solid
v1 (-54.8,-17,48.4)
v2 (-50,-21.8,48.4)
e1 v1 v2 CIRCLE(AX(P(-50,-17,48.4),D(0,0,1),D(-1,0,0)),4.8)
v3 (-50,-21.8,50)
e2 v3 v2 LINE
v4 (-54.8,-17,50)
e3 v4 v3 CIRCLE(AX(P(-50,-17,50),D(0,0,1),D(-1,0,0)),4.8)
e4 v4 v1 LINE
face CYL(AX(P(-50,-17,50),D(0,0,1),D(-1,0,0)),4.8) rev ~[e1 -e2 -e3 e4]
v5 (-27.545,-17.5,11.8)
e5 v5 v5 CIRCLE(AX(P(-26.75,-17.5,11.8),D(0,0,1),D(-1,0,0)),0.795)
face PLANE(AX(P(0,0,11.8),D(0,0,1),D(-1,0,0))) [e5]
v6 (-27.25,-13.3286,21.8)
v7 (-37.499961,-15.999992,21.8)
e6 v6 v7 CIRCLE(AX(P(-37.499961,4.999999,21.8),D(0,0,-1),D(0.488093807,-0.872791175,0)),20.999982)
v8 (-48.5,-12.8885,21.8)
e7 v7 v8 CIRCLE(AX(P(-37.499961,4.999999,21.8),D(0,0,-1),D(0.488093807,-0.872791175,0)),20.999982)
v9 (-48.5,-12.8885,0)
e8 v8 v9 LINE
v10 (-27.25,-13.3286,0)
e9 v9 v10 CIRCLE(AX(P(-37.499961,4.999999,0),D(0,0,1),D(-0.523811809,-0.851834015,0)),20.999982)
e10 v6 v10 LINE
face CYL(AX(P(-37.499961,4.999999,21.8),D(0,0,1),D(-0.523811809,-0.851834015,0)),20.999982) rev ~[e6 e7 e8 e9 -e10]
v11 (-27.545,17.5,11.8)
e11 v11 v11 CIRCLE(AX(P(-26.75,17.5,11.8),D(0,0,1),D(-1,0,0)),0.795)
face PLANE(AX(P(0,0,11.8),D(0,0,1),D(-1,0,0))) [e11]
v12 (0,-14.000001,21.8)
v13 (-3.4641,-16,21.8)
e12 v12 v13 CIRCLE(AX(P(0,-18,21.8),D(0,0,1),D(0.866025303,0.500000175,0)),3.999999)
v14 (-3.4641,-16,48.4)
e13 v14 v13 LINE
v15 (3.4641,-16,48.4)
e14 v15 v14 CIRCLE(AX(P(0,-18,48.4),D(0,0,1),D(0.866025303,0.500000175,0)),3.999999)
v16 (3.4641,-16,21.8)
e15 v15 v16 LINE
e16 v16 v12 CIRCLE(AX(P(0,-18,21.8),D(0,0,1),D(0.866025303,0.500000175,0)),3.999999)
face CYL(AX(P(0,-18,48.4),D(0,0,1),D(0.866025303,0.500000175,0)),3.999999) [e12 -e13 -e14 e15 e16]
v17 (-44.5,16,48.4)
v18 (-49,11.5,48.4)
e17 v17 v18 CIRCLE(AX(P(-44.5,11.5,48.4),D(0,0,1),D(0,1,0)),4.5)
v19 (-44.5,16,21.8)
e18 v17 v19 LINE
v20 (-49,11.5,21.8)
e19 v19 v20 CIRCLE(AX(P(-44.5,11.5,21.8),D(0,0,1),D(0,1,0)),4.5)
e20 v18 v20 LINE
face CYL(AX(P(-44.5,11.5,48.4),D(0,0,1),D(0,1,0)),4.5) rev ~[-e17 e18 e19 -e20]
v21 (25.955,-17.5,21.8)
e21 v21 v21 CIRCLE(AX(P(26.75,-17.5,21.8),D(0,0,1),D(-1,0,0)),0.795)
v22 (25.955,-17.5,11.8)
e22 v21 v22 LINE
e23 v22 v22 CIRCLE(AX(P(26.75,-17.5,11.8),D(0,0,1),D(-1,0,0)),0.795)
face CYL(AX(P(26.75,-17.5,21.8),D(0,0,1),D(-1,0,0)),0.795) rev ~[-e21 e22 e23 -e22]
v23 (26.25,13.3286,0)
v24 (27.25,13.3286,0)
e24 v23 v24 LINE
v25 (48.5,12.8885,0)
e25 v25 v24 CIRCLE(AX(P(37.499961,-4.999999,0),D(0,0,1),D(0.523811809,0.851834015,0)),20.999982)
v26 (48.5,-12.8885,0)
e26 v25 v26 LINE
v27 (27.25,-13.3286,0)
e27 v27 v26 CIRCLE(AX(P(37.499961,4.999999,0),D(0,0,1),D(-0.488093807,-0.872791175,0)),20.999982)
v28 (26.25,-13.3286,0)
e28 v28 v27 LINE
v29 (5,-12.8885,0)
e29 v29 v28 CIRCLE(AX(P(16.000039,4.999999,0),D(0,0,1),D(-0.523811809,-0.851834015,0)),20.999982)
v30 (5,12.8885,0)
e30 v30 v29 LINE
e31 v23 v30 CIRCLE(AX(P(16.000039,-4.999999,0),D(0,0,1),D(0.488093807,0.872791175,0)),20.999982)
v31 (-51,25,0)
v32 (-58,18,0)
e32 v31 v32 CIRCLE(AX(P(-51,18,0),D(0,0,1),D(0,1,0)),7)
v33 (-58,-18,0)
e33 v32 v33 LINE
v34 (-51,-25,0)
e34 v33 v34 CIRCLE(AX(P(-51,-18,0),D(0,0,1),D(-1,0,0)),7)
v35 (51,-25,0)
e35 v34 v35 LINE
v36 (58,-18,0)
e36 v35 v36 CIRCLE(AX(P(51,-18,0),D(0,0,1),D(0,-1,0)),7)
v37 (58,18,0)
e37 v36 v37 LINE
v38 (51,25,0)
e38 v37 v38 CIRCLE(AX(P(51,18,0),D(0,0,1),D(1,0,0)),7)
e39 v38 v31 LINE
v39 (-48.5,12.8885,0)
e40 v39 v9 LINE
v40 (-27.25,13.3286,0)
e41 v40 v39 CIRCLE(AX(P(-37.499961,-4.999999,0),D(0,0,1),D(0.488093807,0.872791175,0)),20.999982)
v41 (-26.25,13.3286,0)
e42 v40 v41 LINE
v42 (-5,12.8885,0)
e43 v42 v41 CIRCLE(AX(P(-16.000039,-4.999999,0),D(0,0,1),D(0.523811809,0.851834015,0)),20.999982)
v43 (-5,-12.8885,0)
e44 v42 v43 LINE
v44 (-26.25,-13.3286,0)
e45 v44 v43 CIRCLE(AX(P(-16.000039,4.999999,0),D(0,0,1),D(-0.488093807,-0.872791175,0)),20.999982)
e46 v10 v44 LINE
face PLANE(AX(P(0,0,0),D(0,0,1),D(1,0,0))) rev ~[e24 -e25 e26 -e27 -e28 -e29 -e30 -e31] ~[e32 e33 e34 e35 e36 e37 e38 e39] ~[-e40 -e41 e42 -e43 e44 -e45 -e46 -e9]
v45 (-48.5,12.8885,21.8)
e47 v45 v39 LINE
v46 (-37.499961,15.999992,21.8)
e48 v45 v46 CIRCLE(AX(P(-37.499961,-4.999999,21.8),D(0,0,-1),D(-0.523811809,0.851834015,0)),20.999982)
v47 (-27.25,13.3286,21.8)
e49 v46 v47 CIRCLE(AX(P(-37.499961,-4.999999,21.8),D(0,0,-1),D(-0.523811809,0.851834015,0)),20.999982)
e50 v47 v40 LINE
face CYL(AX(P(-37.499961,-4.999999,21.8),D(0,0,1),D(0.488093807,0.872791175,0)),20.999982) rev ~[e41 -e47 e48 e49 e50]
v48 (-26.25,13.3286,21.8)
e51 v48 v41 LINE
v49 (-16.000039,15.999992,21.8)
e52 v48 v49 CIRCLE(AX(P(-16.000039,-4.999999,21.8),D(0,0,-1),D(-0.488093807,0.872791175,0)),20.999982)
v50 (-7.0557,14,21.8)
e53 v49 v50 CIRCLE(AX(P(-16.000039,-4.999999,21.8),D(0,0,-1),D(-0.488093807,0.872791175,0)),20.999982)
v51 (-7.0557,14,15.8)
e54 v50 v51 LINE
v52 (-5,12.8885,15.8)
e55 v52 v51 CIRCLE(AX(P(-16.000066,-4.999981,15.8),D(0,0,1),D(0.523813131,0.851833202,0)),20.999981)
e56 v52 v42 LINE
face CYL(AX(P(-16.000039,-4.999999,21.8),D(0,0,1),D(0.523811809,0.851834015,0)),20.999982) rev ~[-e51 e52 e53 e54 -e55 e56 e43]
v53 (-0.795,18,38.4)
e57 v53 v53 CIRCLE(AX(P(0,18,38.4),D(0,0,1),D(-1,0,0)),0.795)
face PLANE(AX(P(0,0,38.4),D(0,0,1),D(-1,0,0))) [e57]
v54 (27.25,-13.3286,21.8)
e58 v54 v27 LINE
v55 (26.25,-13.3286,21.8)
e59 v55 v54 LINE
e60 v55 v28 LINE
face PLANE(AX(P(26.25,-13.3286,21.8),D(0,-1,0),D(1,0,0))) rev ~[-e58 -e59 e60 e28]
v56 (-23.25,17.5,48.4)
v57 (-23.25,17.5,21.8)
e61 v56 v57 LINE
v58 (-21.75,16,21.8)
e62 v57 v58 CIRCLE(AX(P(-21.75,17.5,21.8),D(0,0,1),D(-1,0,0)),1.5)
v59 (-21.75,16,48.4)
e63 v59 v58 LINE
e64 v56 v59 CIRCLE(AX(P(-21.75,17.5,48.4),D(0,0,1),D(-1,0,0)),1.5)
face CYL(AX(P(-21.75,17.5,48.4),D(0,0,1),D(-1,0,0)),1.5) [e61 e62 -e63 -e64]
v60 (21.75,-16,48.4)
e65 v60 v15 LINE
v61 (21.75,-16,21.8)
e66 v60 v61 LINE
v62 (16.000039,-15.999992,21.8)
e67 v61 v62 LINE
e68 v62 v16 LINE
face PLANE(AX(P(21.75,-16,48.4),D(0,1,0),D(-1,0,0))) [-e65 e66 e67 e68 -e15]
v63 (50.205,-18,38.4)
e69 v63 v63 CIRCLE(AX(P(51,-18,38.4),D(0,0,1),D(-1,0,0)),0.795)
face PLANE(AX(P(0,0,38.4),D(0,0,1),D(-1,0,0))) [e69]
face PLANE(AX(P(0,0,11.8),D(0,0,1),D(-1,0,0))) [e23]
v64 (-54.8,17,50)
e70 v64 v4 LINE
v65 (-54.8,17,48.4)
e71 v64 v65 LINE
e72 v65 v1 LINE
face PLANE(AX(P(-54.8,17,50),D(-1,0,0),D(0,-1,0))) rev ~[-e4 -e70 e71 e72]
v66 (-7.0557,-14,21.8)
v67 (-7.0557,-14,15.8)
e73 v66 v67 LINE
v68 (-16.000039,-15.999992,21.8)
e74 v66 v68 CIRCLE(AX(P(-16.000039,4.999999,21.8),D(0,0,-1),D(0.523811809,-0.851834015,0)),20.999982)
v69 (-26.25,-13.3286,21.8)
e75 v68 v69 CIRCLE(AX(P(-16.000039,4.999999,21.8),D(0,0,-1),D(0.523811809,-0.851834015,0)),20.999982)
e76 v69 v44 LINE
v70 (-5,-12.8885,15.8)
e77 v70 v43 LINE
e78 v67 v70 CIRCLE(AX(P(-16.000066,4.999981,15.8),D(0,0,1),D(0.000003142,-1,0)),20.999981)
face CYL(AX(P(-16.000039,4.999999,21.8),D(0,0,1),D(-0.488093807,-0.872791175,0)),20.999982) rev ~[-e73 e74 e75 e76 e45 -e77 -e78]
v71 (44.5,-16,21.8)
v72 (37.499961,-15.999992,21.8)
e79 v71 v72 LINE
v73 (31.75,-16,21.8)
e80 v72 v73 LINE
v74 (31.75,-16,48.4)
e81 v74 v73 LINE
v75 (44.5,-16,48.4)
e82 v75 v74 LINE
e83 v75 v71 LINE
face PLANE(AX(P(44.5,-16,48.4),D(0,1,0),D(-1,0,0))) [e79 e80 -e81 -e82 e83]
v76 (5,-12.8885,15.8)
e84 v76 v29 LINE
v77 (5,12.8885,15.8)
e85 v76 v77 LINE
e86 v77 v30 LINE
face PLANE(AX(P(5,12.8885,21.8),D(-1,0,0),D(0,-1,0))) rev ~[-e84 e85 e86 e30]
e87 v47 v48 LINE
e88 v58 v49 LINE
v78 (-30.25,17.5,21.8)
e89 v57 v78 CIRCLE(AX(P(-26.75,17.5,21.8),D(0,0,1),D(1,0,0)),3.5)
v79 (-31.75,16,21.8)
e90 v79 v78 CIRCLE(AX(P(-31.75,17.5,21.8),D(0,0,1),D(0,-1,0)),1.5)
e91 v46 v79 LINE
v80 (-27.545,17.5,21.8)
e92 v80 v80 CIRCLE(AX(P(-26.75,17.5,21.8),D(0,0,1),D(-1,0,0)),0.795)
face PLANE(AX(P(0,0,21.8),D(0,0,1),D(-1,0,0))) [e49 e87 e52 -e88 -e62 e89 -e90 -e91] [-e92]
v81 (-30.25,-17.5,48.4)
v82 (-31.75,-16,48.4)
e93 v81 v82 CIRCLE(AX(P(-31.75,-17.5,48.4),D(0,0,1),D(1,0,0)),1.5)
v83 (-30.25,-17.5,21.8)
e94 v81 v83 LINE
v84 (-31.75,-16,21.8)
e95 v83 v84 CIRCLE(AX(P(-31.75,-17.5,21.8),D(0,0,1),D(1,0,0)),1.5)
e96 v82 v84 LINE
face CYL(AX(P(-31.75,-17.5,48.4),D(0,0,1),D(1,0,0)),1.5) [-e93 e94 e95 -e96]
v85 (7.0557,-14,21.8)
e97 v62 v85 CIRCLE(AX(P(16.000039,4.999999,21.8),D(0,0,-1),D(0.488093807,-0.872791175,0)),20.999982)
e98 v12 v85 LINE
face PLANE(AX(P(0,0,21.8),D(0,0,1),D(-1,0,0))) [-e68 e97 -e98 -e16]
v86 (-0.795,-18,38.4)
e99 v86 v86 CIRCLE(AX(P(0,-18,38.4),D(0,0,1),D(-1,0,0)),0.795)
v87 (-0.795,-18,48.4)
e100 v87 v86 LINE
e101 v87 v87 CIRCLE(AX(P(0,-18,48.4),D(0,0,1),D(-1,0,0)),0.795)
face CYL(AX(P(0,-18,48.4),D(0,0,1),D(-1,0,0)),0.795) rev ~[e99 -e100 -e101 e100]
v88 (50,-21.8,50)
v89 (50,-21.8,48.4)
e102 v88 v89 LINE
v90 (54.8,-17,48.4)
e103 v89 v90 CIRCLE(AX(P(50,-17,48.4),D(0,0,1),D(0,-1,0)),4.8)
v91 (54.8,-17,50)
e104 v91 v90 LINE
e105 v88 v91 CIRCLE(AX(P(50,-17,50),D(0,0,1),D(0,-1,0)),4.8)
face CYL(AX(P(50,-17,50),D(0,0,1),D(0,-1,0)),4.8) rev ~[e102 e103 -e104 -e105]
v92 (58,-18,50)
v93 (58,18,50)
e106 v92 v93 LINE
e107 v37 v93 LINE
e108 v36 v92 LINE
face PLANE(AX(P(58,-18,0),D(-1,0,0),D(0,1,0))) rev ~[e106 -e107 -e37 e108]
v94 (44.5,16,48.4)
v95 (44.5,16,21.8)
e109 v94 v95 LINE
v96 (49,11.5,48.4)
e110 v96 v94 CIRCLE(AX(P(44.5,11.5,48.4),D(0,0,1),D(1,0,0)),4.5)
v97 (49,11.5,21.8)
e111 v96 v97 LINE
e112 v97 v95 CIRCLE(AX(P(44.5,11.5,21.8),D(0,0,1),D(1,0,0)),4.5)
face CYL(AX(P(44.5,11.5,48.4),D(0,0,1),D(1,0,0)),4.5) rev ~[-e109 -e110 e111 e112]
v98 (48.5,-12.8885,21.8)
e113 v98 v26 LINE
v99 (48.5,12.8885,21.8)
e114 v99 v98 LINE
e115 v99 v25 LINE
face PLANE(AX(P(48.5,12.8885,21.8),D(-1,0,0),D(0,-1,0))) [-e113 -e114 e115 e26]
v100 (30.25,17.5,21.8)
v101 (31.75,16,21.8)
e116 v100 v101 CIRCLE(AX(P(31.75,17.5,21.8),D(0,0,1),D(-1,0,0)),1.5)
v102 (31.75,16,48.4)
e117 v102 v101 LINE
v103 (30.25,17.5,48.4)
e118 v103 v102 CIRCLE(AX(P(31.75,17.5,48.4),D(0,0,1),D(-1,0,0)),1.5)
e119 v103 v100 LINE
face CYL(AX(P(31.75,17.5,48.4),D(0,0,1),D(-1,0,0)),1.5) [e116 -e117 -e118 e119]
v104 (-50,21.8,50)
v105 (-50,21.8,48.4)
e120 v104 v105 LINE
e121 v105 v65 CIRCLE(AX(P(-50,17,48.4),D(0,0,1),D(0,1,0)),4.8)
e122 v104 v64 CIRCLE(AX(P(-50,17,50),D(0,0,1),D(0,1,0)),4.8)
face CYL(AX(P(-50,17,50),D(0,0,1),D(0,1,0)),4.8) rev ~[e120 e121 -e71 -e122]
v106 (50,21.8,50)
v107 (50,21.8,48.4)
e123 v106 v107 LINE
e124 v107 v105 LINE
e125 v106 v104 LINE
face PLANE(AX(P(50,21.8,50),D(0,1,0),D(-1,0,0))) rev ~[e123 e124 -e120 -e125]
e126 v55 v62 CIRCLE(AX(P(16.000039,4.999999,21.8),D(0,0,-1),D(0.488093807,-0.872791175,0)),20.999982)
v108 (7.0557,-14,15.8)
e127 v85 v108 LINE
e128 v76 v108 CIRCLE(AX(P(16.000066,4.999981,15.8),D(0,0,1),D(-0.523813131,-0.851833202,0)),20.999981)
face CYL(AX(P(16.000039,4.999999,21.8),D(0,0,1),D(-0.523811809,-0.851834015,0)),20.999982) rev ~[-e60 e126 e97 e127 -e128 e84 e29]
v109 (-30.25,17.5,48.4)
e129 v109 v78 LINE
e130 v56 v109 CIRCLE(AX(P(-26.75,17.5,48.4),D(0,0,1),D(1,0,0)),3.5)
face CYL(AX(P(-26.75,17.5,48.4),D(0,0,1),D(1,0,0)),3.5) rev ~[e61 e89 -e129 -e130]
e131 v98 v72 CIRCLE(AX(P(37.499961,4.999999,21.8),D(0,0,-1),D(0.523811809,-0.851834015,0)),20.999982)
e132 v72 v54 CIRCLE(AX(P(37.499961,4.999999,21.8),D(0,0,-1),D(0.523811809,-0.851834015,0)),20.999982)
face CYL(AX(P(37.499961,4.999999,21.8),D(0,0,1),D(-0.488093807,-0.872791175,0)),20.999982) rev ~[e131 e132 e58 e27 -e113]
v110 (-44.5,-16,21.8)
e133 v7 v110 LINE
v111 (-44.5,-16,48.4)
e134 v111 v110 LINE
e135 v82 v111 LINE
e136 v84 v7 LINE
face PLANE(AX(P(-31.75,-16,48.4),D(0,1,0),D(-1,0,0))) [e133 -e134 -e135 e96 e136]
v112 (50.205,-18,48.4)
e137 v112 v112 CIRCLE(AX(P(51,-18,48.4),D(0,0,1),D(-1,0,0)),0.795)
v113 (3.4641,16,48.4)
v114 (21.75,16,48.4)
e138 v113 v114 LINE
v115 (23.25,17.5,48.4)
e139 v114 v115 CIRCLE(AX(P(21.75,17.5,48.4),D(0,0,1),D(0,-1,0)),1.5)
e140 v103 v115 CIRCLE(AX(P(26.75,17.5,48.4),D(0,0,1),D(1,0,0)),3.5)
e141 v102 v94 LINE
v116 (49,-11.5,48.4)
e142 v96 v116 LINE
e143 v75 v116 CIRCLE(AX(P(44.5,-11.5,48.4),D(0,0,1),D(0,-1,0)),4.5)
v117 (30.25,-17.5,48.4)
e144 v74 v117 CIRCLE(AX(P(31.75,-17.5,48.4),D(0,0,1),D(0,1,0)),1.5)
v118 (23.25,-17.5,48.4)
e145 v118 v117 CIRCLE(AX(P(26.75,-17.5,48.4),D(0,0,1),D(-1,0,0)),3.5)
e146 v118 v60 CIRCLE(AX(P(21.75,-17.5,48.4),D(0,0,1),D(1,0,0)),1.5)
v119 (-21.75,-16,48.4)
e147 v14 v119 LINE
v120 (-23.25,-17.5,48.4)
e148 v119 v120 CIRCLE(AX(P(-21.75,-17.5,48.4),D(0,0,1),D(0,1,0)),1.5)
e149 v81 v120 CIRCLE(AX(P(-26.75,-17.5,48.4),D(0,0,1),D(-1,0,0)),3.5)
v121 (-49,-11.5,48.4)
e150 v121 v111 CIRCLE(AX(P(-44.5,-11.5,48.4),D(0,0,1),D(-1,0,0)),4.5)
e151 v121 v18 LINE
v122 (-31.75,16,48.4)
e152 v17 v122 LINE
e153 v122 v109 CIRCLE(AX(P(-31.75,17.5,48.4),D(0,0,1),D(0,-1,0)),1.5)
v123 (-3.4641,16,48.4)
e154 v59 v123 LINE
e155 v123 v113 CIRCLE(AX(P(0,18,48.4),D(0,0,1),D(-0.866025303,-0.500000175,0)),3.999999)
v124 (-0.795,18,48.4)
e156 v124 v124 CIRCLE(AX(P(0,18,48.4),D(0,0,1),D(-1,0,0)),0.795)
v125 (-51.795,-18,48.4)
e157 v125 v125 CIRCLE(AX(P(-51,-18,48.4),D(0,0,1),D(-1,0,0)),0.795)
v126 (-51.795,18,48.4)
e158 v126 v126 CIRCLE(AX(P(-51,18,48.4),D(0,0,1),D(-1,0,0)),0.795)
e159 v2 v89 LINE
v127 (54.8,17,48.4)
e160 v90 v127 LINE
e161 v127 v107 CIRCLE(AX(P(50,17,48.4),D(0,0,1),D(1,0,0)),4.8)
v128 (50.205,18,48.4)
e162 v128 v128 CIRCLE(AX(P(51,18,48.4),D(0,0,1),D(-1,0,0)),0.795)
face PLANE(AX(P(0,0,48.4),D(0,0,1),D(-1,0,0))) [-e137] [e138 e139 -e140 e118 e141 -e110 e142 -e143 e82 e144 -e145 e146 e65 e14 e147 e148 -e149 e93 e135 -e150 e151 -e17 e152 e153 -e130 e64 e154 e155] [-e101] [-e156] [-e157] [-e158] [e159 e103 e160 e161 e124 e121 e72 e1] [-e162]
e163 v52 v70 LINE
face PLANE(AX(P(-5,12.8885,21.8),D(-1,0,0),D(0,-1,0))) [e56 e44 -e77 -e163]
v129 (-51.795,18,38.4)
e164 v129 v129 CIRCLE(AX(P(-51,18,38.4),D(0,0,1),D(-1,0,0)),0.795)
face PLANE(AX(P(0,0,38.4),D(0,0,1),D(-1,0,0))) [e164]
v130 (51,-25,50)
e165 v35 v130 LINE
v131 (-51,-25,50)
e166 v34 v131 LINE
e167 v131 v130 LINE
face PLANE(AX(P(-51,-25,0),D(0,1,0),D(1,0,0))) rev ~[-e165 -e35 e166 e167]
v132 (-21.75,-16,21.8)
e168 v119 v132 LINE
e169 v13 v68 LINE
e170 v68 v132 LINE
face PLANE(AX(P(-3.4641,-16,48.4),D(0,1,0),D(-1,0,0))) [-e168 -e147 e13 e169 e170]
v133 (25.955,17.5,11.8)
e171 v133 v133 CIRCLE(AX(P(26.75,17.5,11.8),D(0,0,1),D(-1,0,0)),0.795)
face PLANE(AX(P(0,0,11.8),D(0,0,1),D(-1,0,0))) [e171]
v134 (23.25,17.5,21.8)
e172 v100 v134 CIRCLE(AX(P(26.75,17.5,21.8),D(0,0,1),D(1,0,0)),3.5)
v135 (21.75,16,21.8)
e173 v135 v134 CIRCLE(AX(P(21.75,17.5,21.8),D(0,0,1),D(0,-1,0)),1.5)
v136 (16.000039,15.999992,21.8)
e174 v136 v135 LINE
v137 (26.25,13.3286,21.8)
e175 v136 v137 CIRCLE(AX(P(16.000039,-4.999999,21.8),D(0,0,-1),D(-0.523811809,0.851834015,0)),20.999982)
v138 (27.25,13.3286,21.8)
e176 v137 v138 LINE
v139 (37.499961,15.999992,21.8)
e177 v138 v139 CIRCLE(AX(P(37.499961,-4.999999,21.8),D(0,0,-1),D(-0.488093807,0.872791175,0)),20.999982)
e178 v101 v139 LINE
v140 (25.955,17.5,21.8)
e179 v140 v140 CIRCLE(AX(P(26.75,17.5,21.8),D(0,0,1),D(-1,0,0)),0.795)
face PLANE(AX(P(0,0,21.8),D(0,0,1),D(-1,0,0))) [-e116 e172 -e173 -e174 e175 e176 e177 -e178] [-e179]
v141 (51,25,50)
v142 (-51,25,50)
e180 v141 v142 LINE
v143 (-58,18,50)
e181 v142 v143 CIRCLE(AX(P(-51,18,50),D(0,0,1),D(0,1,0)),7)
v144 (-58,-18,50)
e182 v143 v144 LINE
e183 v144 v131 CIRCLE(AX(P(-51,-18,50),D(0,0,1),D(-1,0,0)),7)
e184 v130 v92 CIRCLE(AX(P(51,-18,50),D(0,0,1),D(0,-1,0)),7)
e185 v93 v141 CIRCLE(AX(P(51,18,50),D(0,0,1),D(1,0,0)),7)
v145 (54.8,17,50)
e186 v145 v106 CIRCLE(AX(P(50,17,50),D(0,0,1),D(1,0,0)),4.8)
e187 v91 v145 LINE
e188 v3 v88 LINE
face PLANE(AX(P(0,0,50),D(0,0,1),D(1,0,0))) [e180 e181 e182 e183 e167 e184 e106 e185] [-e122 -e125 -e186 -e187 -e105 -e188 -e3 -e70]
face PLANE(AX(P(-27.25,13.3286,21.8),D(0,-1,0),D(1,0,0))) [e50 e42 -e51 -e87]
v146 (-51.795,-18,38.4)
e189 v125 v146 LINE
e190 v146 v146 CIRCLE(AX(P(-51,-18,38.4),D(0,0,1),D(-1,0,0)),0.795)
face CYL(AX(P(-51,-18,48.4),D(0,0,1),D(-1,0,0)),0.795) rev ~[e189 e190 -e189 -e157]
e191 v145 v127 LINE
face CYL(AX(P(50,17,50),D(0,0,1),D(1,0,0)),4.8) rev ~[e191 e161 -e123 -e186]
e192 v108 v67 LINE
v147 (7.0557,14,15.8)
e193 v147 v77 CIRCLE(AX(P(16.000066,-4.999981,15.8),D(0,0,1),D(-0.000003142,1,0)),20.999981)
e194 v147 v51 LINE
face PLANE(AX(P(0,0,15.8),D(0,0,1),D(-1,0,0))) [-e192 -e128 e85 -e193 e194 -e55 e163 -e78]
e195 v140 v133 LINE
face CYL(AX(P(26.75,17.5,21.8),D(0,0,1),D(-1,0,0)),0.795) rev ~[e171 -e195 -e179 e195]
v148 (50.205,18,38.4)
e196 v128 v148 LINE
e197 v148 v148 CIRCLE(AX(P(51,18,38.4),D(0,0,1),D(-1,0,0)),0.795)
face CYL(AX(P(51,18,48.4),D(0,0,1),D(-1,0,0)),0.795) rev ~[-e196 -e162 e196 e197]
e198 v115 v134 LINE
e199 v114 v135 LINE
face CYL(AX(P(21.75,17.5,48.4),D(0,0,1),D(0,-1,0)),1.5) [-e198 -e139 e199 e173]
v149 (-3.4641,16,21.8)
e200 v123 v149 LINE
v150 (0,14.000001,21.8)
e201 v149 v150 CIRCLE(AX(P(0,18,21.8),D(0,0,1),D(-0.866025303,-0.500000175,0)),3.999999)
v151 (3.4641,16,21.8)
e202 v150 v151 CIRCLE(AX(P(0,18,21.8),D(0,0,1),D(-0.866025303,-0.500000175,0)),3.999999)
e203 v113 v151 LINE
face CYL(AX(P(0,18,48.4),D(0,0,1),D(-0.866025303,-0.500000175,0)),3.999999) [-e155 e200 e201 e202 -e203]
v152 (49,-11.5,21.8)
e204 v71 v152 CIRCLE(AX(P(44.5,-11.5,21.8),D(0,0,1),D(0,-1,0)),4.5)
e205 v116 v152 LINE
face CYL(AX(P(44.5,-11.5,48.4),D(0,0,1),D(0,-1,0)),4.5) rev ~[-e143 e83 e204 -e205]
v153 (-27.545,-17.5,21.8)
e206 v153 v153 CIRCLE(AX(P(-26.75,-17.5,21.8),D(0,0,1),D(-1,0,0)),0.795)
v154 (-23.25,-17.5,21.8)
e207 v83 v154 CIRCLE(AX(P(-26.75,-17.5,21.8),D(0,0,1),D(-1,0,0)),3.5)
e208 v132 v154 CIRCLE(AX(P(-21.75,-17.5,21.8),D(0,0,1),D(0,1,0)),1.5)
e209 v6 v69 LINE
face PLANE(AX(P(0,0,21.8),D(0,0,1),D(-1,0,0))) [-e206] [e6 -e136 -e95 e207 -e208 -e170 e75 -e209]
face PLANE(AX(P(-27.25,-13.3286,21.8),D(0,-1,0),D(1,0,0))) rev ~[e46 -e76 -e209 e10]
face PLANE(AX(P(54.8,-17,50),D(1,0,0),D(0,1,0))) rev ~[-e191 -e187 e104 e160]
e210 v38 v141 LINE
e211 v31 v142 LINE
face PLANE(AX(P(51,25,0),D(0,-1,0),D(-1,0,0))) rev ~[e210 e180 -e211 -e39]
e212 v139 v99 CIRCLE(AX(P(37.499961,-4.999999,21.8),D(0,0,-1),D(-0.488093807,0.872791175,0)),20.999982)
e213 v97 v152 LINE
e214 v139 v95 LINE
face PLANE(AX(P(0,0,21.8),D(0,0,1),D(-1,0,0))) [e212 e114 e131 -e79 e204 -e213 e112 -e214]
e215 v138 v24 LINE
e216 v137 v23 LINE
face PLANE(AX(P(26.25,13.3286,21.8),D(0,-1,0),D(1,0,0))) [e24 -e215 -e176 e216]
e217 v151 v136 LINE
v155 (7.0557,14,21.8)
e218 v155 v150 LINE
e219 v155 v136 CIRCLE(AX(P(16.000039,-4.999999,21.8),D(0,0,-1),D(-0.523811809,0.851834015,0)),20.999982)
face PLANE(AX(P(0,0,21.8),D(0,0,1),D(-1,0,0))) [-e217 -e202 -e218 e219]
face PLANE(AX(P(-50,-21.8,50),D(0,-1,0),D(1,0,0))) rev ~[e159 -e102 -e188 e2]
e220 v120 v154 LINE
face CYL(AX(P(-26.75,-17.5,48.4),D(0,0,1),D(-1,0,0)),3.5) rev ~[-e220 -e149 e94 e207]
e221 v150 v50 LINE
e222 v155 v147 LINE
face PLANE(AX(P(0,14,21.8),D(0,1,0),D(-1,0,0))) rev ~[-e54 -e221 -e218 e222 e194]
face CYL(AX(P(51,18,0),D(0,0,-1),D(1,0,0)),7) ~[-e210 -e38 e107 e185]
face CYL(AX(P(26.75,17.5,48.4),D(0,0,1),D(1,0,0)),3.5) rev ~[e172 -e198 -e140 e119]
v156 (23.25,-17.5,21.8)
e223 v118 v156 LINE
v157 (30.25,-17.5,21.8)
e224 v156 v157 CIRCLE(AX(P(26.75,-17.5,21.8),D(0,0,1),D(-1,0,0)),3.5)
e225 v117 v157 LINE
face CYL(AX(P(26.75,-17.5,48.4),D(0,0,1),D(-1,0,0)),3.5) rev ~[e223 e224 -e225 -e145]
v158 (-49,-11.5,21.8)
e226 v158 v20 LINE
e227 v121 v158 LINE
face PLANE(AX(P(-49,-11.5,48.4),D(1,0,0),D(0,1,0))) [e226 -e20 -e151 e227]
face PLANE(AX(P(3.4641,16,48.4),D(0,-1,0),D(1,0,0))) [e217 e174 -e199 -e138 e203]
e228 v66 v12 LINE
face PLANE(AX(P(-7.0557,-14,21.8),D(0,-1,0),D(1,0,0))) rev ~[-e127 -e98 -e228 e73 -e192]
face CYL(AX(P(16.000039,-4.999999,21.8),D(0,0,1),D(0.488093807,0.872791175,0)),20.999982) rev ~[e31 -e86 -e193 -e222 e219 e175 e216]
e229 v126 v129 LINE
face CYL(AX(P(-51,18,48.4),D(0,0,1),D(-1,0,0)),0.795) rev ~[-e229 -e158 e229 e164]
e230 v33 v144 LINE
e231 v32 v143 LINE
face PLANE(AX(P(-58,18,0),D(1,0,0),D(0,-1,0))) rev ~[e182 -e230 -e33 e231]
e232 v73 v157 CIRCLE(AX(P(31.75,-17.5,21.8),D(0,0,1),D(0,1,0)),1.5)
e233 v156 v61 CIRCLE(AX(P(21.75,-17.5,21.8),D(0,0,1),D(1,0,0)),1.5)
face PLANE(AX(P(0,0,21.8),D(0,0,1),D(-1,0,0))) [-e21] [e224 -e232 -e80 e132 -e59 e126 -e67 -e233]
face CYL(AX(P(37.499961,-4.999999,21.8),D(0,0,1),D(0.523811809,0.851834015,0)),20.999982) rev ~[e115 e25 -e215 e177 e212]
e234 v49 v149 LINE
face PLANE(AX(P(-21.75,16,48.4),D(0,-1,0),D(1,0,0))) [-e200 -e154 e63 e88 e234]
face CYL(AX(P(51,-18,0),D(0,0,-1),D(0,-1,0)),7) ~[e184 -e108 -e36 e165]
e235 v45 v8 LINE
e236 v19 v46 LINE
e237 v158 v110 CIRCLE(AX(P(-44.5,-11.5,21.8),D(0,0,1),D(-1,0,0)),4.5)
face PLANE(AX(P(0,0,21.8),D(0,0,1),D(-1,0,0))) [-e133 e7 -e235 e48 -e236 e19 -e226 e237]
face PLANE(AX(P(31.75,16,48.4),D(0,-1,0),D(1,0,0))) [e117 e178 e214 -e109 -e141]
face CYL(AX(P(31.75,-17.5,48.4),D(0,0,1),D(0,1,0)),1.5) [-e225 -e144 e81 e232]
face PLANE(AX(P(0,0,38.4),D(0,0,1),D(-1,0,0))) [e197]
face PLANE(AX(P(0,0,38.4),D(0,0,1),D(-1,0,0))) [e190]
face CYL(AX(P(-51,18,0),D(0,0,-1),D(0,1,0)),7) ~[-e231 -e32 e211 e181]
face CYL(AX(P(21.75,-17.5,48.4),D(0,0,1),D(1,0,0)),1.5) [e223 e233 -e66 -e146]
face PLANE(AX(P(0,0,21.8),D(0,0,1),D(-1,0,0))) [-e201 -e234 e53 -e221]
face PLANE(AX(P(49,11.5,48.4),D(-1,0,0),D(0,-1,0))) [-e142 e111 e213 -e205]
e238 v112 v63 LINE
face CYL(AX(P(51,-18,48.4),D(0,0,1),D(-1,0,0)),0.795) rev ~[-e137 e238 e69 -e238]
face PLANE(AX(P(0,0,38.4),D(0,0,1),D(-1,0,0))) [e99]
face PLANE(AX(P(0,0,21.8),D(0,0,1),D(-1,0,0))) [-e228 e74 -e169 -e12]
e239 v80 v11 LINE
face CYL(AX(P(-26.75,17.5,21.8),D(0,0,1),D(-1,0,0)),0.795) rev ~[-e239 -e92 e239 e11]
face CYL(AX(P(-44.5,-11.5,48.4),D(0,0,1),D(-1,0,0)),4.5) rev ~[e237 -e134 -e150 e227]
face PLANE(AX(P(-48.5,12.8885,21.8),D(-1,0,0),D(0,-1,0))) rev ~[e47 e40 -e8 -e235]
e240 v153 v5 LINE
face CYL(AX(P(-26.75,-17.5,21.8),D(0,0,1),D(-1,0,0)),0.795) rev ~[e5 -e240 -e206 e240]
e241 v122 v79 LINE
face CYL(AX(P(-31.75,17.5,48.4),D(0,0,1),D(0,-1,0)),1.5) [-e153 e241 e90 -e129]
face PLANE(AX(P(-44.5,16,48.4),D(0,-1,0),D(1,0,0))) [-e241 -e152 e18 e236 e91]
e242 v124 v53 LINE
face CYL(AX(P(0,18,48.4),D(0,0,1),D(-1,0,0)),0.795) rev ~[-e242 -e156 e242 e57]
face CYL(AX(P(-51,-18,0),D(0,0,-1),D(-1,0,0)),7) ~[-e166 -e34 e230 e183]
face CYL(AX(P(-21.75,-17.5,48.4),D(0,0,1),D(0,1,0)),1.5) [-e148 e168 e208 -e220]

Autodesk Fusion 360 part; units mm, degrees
sketch "Main Body" plane through (0, 0, 0) normal (0, 0, 1) x (1, 0, 0)
  line L0 (51, 25) -> (-51, 25)
  line L1 (-58, 18) -> (-58, -18)
  line L2 (-51, -25) -> (51, -25)
  line L3 (58, -18) -> (58, 18)
  line L4 (58, 25) -> (-58, -25) construction
  line L5 (-58, 25) -> (58, -25) construction
  arc A0 (-51, 25) -> (-58, 18) centre (-51, 18) ccw
  arc A1 (-58, -18) -> (-51, -25) centre (-51, -18) ccw
  arc A2 (51, -25) -> (58, -18) centre (51, -18) ccw
  arc A3 (58, 18) -> (51, 25) centre (51, 18) ccw
  line L6 (-50, -21.8) -> (50, -21.8)
  line L7 (-54.8, -21.8) -> (54.8, 21.8) construction
  line L8 (54.8, -21.8) -> (-54.8, 21.8) construction
  line L9 (-50, -21.8) -> (50, -21.8)
  line L10 (-50, -21.8) -> (50, -21.8)
  dimension "d1" = 116
  dimension "d2" = 50
  dimension "d3" = 7
  dimension "d4" = 7
  dimension "d5" = 7
  dimension "d6" = 7
extrude "Extrude1" add sketch "Main Body" along normal blind 50
sketch "Back Panel" plane through (0, 0, 50) normal (0, 0, 1) x (-1, 0, 0)
  arc A0 (-58, -18) -> (-51, -25) centre (-51, -18) ccw
  line L0 (-51, -25) -> (51, -25)
  arc A1 (51, -25) -> (58, -18) centre (51, -18) ccw
  line L1 (58, -18) -> (58, 18)
  arc A2 (58, 18) -> (51, 25) centre (51, 18) ccw
  line L2 (51, 25) -> (-51, 25)
  arc A3 (-51, 25) -> (-58, 18) centre (-51, 18) ccw
  line L3 (-58, 18) -> (-58, -18)
  line L4 (-50, -21.8) -> (50, -21.8)
  line L5 (54.8, -17) -> (54.8, 17)
  line L6 (50, 21.8) -> (-50, 21.8)
  line L7 (-54.8, 17) -> (-54.8, -17)
  line L8 (-54.8, -21.8) -> (54.8, 21.8) construction
  line L9 (54.8, -21.8) -> (-54.8, 21.8) construction
  arc A4 (50, -21.8) -> (54.8, -17) centre (50, -17) ccw
  arc A5 (54.8, 17) -> (50, 21.8) centre (50, 17) ccw
  arc A6 (-50, 21.8) -> (-54.8, 17) centre (-50, 17) ccw
  arc A7 (-54.8, -17) -> (-50, -21.8) centre (-50, -17) ccw
  dimension "d9" = 109.6
  dimension "d10" = 43.6
  dimension "d11" = 4.8
  dimension "d12" = 4.8
  dimension "d13" = 4.8
  dimension "d14" = 4.8
extrude "Extrude2" cut sketch "Back Panel" against normal blind 1.6 contours L4 L5 L6 L7 A4 A5 A6 A7
sketch "Electronics Cavity" plane through (0, 0, 48.4) normal (0, 0, 1) x (-1, 0, 0)
  arc A0 (-54.8, -17) -> (-50, -21.8) centre (-50, -17) ccw
  line L0 (-50, -21.8) -> (50, -21.8)
  arc A1 (50, -21.8) -> (54.8, -17) centre (50, -17) ccw
  line L1 (54.8, -17) -> (54.8, 17)
  arc A2 (54.8, 17) -> (50, 21.8) centre (50, 17) ccw
  line L2 (50, 21.8) -> (-50, 21.8)
  arc A3 (-50, 21.8) -> (-54.8, 17) centre (-50, 17) ccw
  line L3 (-54.8, 17) -> (-54.8, -17)
  line L4 (49, 11.5) -> (49, -11.5)
  line L5 (-49, -11.5) -> (-49, 11.5)
  arc A4 (44.5, -16) -> (49, -11.5) centre (44.5, -11.5) ccw
  arc A5 (49, 11.5) -> (44.5, 16) centre (44.5, 11.5) ccw
  arc A6 (-44.5, 16) -> (-49, 11.5) centre (-44.5, 11.5) ccw
  arc A7 (-49, -11.5) -> (-44.5, -16) centre (-44.5, -11.5) ccw
  line L6 (44.5, -16) -> (31.75, -16)
  line L7 (-31.75, -16) -> (-44.5, -16)
  line L8 (31.75, 16) -> (44.5, 16)
  line L9 (-44.5, 16) -> (-31.75, 16)
  arc A8 (-3.4641, 16) -> (3.4641, 16) centre (0, 18) ccw
  line L10 (-3.4641, -16) -> (-21.75, -16)
  line L11 (-21.75, 16) -> (-3.4641, 16)
  line L12 (3.4641, 16) -> (21.75, 16)
  line L13 (26.75, 0) -> (-26.75, 0) construction
  line L14 (26.75, -17.5) -> (26.75, 17.5) construction
  line L15 (-26.75, -17.5) -> (-26.75, 17.5) construction
  line L16 (0, 18) -> (0, -18) construction
  arc A9 (3.4641, -16) -> (-3.4641, -16) centre (0, -18) ccw
  line L17 (49, 0) -> (-49, 0) construction
  arc A10 (23.25, -17.5) -> (30.25, -17.5) centre (26.75, -17.5) ccw
  line L18 (26.75, -17.5) -> (23.25, -17.5) construction
  line L19 (26.75, -17.5) -> (30.25, -17.5) construction
  arc A11 (31.75, -16) -> (30.25, -17.5) centre (31.75, -17.5) ccw
  line L20 (31.75, -17.5) -> (31.75, -16) construction
  line L21 (31.75, -17.5) -> (30.25, -17.5) construction
  line L22 (21.75, -16) -> (3.4641, -16)
  arc A12 (23.25, -17.5) -> (21.75, -16) centre (21.75, -17.5) ccw
  line L23 (21.75, -17.5) -> (23.25, -17.5) construction
  line L24 (21.75, -17.5) -> (21.75, -16) construction
  arc A13 (30.25, 17.5) -> (23.25, 17.5) centre (26.75, 17.5) ccw
  line L25 (26.75, 17.5) -> (30.25, 17.5) construction
  line L26 (26.75, 17.5) -> (23.25, 17.5) construction
  arc A14 (30.25, 17.5) -> (31.75, 16) centre (31.75, 17.5) ccw
  line L27 (31.75, 17.5) -> (30.25, 17.5) construction
  line L28 (31.75, 17.5) -> (31.75, 16) construction
  arc A15 (21.75, 16) -> (23.25, 17.5) centre (21.75, 17.5) ccw
  line L29 (21.75, 17.5) -> (21.75, 16) construction
  line L30 (21.75, 17.5) -> (23.25, 17.5) construction
  arc A16 (-23.25, 17.5) -> (-30.25, 17.5) centre (-26.75, 17.5) ccw
  line L31 (-26.75, 17.5) -> (-23.25, 17.5) construction
  line L32 (-26.75, 17.5) -> (-30.25, 17.5) construction
  arc A17 (-23.25, 17.5) -> (-21.75, 16) centre (-21.75, 17.5) ccw
  line L33 (-21.75, 17.5) -> (-23.25, 17.5) construction
  line L34 (-21.75, 17.5) -> (-21.75, 16) construction
  arc A18 (-31.75, 16) -> (-30.25, 17.5) centre (-31.75, 17.5) ccw
  line L35 (-31.75, 17.5) -> (-31.75, 16) construction
  line L36 (-31.75, 17.5) -> (-30.25, 17.5) construction
  arc A19 (-30.25, -17.5) -> (-23.25, -17.5) centre (-26.75, -17.5) ccw
  line L37 (-26.75, -17.5) -> (-30.25, -17.5) construction
  line L38 (-26.75, -17.5) -> (-23.25, -17.5) construction
  arc A20 (-21.75, -16) -> (-23.25, -17.5) centre (-21.75, -17.5) ccw
  line L39 (-21.75, -17.5) -> (-21.75, -16) construction
  line L40 (-21.75, -17.5) -> (-23.25, -17.5) construction
  arc A21 (-30.25, -17.5) -> (-31.75, -16) centre (-31.75, -17.5) ccw
  line L41 (-31.75, -17.5) -> (-30.25, -17.5) construction
  line L42 (-31.75, -17.5) -> (-31.75, -16) construction
  dimension "d19" = 4.5
  dimension "d20" = 4.5
  dimension "d21" = 4.5
  dimension "d22" = 4.5
  dimension "d52" = 4
  dimension "d99" = 53.5
  dimension "d102" = 36
  dimension "d103" = 4
  dimension "d104" = 98
  dimension "d106" = 32
  dimension "d109" = 35
  dimension "d110" = 3.5
  dimension "d111" = 180
  dimension "d112" = 90
  dimension "d113" = 90
  dimension "d114" = 3.5
  dimension "d115" = 180
  dimension "d116" = 90
  dimension "d117" = 90
  dimension "d118" = 35
  dimension "d119" = 3.5
  dimension "d120" = 180
  dimension "d121" = 90
  dimension "d122" = 90
  dimension "d123" = 3.5
  dimension "d124" = 180
  dimension "d125" = 90
  dimension "d126" = 90
extrude "Extrude3" cut sketch "Electronics Cavity" against normal blind 26.6 contours L4 L5 A4 A5 A6 A7 L6 L7 L8 L9 A8 L10 L11 L12 A9 A10 A11 L22 A12 A13 A14 A15 A16 A17 A18 A19 A20 A21
sketch "Tube Cavities" plane through (0, 0, 21.8) normal (0, 0, 1) x (-1, 0, 0)
  line L0 (-31.75, 16) -> (-44.5, 16)
  arc A0 (-44.5, 16) -> (-49, 11.5) centre (-44.5, 11.5) ccw
  line L1 (-49, 11.5) -> (-49, -11.5)
  arc A1 (-49, -11.5) -> (-44.5, -16) centre (-44.5, -11.5) ccw
  line L2 (-44.5, -16) -> (-31.75, -16)
  line L3 (31.75, -16) -> (44.5, -16)
  arc A2 (44.5, -16) -> (49, -11.5) centre (44.5, -11.5) ccw
  line L4 (49, -11.5) -> (49, 11.5)
  arc A3 (49, 11.5) -> (44.5, 16) centre (44.5, 11.5) ccw
  line L5 (44.5, 16) -> (31.75, 16)
  line L6 (21.75, 16) -> (3.4641, 16)
  arc A4 (-3.4641, 16) -> (3.4641, 16) centre (0, 18) ccw
  line L7 (16, 0) -> (-16, 0) construction
  line L8 (37.5, 0) -> (-37.5, 0) construction
  line L9 (37.5, -5) -> (37.5, 5) construction
  arc A5 (48.5, 12.8885) -> (27.25, 13.3286) centre (37.5, -5) ccw
  arc A6 (27.25, -13.3286) -> (48.5, -12.8885) centre (37.5, 5) ccw
  line L10 (37.5, -16) -> (37.5, 16) construction
  line L11 (16, -16) -> (16, 16) construction
  line L12 (16, 5) -> (16, -5) construction
  line L13 (37.5, 0) -> (48.5, 0) construction
  line L14 (48.5, -12.8885) -> (48.5, 12.8885)
  line L15 (27.25, -13.3286) -> (26.25, -13.3286)
  line L16 (27.25, 13.3286) -> (26.25, 13.3286)
  arc A7 (5, -12.8885) -> (26.25, -13.3286) centre (16, 5) ccw
  arc A8 (26.25, 13.3286) -> (5, 12.8885) centre (16, -5) ccw
  line L17 (5, -12.8885) -> (5, 12.8885)
  line L18 (16, 0) -> (5, 0) construction
  line L19 (-16, -5) -> (-16, 5) construction
  line L20 (-16, -16) -> (-16, 16) construction
  line L21 (-16, 0) -> (-5, 0) construction
  line L22 (-37.5, -5) -> (-37.5, 5) construction
  line L23 (-37.5, -16) -> (-37.5, 16) construction
  arc A9 (-48.5, -12.8885) -> (-27.25, -13.3286) centre (-37.5, 5) ccw
  arc A10 (-26.25, -13.3286) -> (-5, -12.8885) centre (-16, 5) ccw
  arc A11 (-5, 12.8885) -> (-26.25, 13.3286) centre (-16, -5) ccw
  arc A12 (-27.25, 13.3286) -> (-48.5, 12.8885) centre (-37.5, -5) ccw
  line L24 (-5, -12.8885) -> (-5, 12.8885)
  line L25 (-48.5, -12.8885) -> (-48.5, 12.8885)
  line L26 (-26.25, -13.3286) -> (-27.25, -13.3286)
  line L27 (-26.25, 13.3286) -> (-27.25, 13.3286)
  line L28 (-37.5, 0) -> (-48.5, 0) construction
  arc A13 (3.4641, -16) -> (-3.4641, -16) centre (0, -18) ccw
  arc A14 (23.25, -17.5) -> (30.25, -17.5) centre (26.75, -17.5) ccw
  arc A15 (31.75, -16) -> (30.25, -17.5) centre (31.75, -17.5) ccw
  arc A16 (30.25, 17.5) -> (31.75, 16) centre (31.75, 17.5) ccw
  arc A17 (30.25, 17.5) -> (23.25, 17.5) centre (26.75, 17.5) ccw
  arc A18 (21.75, 16) -> (23.25, 17.5) centre (21.75, 17.5) ccw
  line L29 (-3.4641, 16) -> (-21.75, 16)
  arc A19 (-23.25, 17.5) -> (-21.75, 16) centre (-21.75, 17.5) ccw
  arc A20 (-23.25, 17.5) -> (-30.25, 17.5) centre (-26.75, 17.5) ccw
  arc A21 (-31.75, 16) -> (-30.25, 17.5) centre (-31.75, 17.5) ccw
  arc A22 (-30.25, -17.5) -> (-31.75, -16) centre (-31.75, -17.5) ccw
  arc A23 (-30.25, -17.5) -> (-23.25, -17.5) centre (-26.75, -17.5) ccw
  arc A24 (-21.75, -16) -> (-23.25, -17.5) centre (-21.75, -17.5) ccw
  line L30 (-21.75, -16) -> (-3.4641, -16)
  line L31 (3.4641, -16) -> (21.75, -16)
  arc A25 (23.25, -17.5) -> (21.75, -16) centre (21.75, -17.5) ccw
  point P0 (37.5, 0)
  dimension "d54" = 32
  dimension "d55" = 75
  dimension "d58" = 10
  dimension "d59" = 32
  dimension "d60" = 32
  dimension "d61" = 10
  dimension "d62" = 11
  dimension "d63" = 11
  dimension "d64" = 1
  dimension "d65" = 1
  dimension "d66" = 10
  dimension "d67" = 32
  dimension "d68" = 11
  dimension "d69" = 10
  dimension "d71" = 32
  dimension "d72" = 1
  dimension "d73" = 1
  dimension "d74" = 11
extrude "Extrude4" cut sketch "Tube Cavities" against normal blind 23.4 contours A9 A10 A11 A12 L24 L25 L26 L27 | A5 A6 L14 L15 L16 A7 A8 L17
sketch "Electronics Cavity Extension" plane through (0, 0, 21.8) normal (0, 0, 1) x (-1, 0, 0)
  arc A0 (-5, 12.8885) -> (-16, 16) centre (-16, -5) ccw
  line L0 (-5, 12.8885) -> (-5, -12.8885)
  arc A1 (-16, -16) -> (-5, -12.8885) centre (-16, 5) ccw
  arc A2 (5, -12.8885) -> (16, -16) centre (16, 5) ccw
  line L1 (5, -12.8885) -> (5, 12.8885)
  arc A3 (16, 16) -> (5, 12.8885) centre (16, -5) ccw
  line L2 (16, 16) -> (3.4641, 16)
  arc A4 (-3.4641, 16) -> (3.4641, 16) centre (0, 18) ccw
  line L3 (-7.0557, -14) -> (7.0557, -14)
  line L4 (7.0557, -14) -> (7.0557, 14)
  line L5 (7.0557, 14) -> (-7.0557, 14)
  line L6 (-7.0557, 14) -> (-7.0557, -14)
  line L7 (-7.0557, -14) -> (7.0557, 14) construction
  line L8 (7.0557, -14) -> (-7.0557, 14) construction
  arc A5 (3.4641, -16) -> (-3.4641, -16) centre (0, -18) ccw
  line L9 (-3.4641, 16) -> (-16, 16)
  line L10 (-16, -16) -> (-3.4641, -16)
  line L11 (3.4641, -16) -> (16, -16)
  point P0 (0, -14)
extrude "Extrude5" cut sketch "Electronics Cavity Extension" against normal blind 6 contours A0 L0 A1 A2 L1 A3 L3 L5
sketch "Back Cover Drills" plane through (0, 0, 48.4) normal (0, 0, 1) x (-1, 0, 0)
  line L0 (31.75, 16) -> (44.5, 16)
  arc A0 (49, 11.5) -> (44.5, 16) centre (44.5, 11.5) ccw
  line L1 (49, 11.5) -> (49, -11.5)
  arc A1 (44.5, -16) -> (49, -11.5) centre (44.5, -11.5) ccw
  line L2 (-3.4641, -16) -> (-21.75, -16)
  line L3 (-31.75, -16) -> (-44.5, -16)
  arc A2 (-49, -11.5) -> (-44.5, -16) centre (-44.5, -11.5) ccw
  line L4 (-49, -11.5) -> (-49, 11.5)
  arc A3 (-44.5, 16) -> (-49, 11.5) centre (-44.5, 11.5) ccw
  line L5 (-44.5, 16) -> (-31.75, 16)
  arc A4 (-54.8, -17) -> (-50, -21.8) centre (-50, -17) ccw
  line L6 (-50, -21.8) -> (50, -21.8)
  arc A5 (50, -21.8) -> (54.8, -17) centre (50, -17) ccw
  line L7 (54.8, -17) -> (54.8, 17)
  arc A6 (54.8, 17) -> (50, 21.8) centre (50, 17) ccw
  line L8 (50, 21.8) -> (-50, 21.8)
  arc A7 (-50, 21.8) -> (-54.8, 17) centre (-50, 17) ccw
  line L9 (-54.8, 17) -> (-54.8, -17)
  line L10 (0, -18) -> (0, 18) construction
  line L11 (51, -18) -> (-51, -18) construction
  line L12 (51, 18) -> (-51, 18) construction
  circle A8 centre (51, 18) radius 0.795
  circle A9 centre (51, -18) radius 0.795
  circle A10 centre (0, -18) radius 0.795
  circle A11 centre (0, 18) radius 0.795
  circle A12 centre (-51, 18) radius 0.795
  circle A13 centre (-51, -18) radius 0.795
  arc A14 (3.4641, -16) -> (-3.4641, -16) centre (0, -18) ccw
  line L13 (-21.75, 16) -> (-3.4641, 16)
  arc A15 (-3.4641, 16) -> (3.4641, 16) centre (0, 18) ccw
  line L14 (3.4641, 16) -> (21.75, 16)
  arc A16 (31.75, -16) -> (30.25, -17.5) centre (31.75, -17.5) ccw
  arc A17 (23.25, -17.5) -> (30.25, -17.5) centre (26.75, -17.5) ccw
  arc A18 (23.25, -17.5) -> (21.75, -16) centre (21.75, -17.5) ccw
  line L15 (21.75, -16) -> (3.4641, -16)
  arc A19 (-21.75, -16) -> (-23.25, -17.5) centre (-21.75, -17.5) ccw
  arc A20 (-30.25, -17.5) -> (-23.25, -17.5) centre (-26.75, -17.5) ccw
  arc A21 (-30.25, -17.5) -> (-31.75, -16) centre (-31.75, -17.5) ccw
  arc A22 (-31.75, 16) -> (-30.25, 17.5) centre (-31.75, 17.5) ccw
  arc A23 (-23.25, 17.5) -> (-30.25, 17.5) centre (-26.75, 17.5) ccw
  arc A24 (-23.25, 17.5) -> (-21.75, 16) centre (-21.75, 17.5) ccw
  arc A25 (21.75, 16) -> (23.25, 17.5) centre (21.75, 17.5) ccw
  arc A26 (30.25, 17.5) -> (23.25, 17.5) centre (26.75, 17.5) ccw
  arc A27 (30.25, 17.5) -> (31.75, 16) centre (31.75, 17.5) ccw
  line L16 (44.5, -16) -> (31.75, -16)
  dimension "d79" = 36
  dimension "d80" = 102
  dimension "d81" = 102
  dimension "d82" = 1.59
  dimension "d83" = 1.59
  dimension "d84" = 1.59
  dimension "d85" = 1.59
  dimension "d86" = 1.59
  dimension "d87" = 1.59
extrude "Extrude6" cut sketch "Back Cover Drills" against normal blind 10 contours A8 | A9 | A10 | A11 | A12 | A13
sketch "PCB Drills" plane through (0, 0, 21.8) normal (0, 0, 1) x (-1, 0, 0)
  arc A0 (27.25, -13.3286) -> (37.5, -16) centre (37.5, 5) ccw
  line L0 (27.25, -13.3286) -> (26.25, -13.3286)
  arc A1 (16, -16) -> (26.25, -13.3286) centre (16, 5) ccw
  line L1 (26.75, 0) -> (-26.75, 0) construction
  line L2 (26.75, -17.5) -> (26.75, 17.5) construction
  line L3 (-26.75, -17.5) -> (-26.75, 17.5) construction
  circle A2 centre (26.75, -17.5) radius 0.795
  circle A3 centre (26.75, 17.5) radius 0.795
  circle A4 centre (-26.75, -17.5) radius 0.795
  circle A5 centre (-26.75, 17.5) radius 0.795
  line L4 (31.75, -16) -> (37.5, -16)
  line L5 (16, -16) -> (21.75, -16)
  arc A6 (23.25, -17.5) -> (21.75, -16) centre (21.75, -17.5) ccw
  arc A7 (23.25, -17.5) -> (30.25, -17.5) centre (26.75, -17.5) ccw
  arc A8 (31.75, -16) -> (30.25, -17.5) centre (31.75, -17.5) ccw
  dimension "d90" = 53.5
  dimension "d91" = 35
  dimension "d92" = 35
  dimension "d93" = 1.59
  dimension "d94" = 1.59
  dimension "d95" = 1.59
  dimension "d96" = 1.59
extrude "Extrude7" cut sketch "PCB Drills" against normal blind 10 contours A2 | A3 | A4 | A5
